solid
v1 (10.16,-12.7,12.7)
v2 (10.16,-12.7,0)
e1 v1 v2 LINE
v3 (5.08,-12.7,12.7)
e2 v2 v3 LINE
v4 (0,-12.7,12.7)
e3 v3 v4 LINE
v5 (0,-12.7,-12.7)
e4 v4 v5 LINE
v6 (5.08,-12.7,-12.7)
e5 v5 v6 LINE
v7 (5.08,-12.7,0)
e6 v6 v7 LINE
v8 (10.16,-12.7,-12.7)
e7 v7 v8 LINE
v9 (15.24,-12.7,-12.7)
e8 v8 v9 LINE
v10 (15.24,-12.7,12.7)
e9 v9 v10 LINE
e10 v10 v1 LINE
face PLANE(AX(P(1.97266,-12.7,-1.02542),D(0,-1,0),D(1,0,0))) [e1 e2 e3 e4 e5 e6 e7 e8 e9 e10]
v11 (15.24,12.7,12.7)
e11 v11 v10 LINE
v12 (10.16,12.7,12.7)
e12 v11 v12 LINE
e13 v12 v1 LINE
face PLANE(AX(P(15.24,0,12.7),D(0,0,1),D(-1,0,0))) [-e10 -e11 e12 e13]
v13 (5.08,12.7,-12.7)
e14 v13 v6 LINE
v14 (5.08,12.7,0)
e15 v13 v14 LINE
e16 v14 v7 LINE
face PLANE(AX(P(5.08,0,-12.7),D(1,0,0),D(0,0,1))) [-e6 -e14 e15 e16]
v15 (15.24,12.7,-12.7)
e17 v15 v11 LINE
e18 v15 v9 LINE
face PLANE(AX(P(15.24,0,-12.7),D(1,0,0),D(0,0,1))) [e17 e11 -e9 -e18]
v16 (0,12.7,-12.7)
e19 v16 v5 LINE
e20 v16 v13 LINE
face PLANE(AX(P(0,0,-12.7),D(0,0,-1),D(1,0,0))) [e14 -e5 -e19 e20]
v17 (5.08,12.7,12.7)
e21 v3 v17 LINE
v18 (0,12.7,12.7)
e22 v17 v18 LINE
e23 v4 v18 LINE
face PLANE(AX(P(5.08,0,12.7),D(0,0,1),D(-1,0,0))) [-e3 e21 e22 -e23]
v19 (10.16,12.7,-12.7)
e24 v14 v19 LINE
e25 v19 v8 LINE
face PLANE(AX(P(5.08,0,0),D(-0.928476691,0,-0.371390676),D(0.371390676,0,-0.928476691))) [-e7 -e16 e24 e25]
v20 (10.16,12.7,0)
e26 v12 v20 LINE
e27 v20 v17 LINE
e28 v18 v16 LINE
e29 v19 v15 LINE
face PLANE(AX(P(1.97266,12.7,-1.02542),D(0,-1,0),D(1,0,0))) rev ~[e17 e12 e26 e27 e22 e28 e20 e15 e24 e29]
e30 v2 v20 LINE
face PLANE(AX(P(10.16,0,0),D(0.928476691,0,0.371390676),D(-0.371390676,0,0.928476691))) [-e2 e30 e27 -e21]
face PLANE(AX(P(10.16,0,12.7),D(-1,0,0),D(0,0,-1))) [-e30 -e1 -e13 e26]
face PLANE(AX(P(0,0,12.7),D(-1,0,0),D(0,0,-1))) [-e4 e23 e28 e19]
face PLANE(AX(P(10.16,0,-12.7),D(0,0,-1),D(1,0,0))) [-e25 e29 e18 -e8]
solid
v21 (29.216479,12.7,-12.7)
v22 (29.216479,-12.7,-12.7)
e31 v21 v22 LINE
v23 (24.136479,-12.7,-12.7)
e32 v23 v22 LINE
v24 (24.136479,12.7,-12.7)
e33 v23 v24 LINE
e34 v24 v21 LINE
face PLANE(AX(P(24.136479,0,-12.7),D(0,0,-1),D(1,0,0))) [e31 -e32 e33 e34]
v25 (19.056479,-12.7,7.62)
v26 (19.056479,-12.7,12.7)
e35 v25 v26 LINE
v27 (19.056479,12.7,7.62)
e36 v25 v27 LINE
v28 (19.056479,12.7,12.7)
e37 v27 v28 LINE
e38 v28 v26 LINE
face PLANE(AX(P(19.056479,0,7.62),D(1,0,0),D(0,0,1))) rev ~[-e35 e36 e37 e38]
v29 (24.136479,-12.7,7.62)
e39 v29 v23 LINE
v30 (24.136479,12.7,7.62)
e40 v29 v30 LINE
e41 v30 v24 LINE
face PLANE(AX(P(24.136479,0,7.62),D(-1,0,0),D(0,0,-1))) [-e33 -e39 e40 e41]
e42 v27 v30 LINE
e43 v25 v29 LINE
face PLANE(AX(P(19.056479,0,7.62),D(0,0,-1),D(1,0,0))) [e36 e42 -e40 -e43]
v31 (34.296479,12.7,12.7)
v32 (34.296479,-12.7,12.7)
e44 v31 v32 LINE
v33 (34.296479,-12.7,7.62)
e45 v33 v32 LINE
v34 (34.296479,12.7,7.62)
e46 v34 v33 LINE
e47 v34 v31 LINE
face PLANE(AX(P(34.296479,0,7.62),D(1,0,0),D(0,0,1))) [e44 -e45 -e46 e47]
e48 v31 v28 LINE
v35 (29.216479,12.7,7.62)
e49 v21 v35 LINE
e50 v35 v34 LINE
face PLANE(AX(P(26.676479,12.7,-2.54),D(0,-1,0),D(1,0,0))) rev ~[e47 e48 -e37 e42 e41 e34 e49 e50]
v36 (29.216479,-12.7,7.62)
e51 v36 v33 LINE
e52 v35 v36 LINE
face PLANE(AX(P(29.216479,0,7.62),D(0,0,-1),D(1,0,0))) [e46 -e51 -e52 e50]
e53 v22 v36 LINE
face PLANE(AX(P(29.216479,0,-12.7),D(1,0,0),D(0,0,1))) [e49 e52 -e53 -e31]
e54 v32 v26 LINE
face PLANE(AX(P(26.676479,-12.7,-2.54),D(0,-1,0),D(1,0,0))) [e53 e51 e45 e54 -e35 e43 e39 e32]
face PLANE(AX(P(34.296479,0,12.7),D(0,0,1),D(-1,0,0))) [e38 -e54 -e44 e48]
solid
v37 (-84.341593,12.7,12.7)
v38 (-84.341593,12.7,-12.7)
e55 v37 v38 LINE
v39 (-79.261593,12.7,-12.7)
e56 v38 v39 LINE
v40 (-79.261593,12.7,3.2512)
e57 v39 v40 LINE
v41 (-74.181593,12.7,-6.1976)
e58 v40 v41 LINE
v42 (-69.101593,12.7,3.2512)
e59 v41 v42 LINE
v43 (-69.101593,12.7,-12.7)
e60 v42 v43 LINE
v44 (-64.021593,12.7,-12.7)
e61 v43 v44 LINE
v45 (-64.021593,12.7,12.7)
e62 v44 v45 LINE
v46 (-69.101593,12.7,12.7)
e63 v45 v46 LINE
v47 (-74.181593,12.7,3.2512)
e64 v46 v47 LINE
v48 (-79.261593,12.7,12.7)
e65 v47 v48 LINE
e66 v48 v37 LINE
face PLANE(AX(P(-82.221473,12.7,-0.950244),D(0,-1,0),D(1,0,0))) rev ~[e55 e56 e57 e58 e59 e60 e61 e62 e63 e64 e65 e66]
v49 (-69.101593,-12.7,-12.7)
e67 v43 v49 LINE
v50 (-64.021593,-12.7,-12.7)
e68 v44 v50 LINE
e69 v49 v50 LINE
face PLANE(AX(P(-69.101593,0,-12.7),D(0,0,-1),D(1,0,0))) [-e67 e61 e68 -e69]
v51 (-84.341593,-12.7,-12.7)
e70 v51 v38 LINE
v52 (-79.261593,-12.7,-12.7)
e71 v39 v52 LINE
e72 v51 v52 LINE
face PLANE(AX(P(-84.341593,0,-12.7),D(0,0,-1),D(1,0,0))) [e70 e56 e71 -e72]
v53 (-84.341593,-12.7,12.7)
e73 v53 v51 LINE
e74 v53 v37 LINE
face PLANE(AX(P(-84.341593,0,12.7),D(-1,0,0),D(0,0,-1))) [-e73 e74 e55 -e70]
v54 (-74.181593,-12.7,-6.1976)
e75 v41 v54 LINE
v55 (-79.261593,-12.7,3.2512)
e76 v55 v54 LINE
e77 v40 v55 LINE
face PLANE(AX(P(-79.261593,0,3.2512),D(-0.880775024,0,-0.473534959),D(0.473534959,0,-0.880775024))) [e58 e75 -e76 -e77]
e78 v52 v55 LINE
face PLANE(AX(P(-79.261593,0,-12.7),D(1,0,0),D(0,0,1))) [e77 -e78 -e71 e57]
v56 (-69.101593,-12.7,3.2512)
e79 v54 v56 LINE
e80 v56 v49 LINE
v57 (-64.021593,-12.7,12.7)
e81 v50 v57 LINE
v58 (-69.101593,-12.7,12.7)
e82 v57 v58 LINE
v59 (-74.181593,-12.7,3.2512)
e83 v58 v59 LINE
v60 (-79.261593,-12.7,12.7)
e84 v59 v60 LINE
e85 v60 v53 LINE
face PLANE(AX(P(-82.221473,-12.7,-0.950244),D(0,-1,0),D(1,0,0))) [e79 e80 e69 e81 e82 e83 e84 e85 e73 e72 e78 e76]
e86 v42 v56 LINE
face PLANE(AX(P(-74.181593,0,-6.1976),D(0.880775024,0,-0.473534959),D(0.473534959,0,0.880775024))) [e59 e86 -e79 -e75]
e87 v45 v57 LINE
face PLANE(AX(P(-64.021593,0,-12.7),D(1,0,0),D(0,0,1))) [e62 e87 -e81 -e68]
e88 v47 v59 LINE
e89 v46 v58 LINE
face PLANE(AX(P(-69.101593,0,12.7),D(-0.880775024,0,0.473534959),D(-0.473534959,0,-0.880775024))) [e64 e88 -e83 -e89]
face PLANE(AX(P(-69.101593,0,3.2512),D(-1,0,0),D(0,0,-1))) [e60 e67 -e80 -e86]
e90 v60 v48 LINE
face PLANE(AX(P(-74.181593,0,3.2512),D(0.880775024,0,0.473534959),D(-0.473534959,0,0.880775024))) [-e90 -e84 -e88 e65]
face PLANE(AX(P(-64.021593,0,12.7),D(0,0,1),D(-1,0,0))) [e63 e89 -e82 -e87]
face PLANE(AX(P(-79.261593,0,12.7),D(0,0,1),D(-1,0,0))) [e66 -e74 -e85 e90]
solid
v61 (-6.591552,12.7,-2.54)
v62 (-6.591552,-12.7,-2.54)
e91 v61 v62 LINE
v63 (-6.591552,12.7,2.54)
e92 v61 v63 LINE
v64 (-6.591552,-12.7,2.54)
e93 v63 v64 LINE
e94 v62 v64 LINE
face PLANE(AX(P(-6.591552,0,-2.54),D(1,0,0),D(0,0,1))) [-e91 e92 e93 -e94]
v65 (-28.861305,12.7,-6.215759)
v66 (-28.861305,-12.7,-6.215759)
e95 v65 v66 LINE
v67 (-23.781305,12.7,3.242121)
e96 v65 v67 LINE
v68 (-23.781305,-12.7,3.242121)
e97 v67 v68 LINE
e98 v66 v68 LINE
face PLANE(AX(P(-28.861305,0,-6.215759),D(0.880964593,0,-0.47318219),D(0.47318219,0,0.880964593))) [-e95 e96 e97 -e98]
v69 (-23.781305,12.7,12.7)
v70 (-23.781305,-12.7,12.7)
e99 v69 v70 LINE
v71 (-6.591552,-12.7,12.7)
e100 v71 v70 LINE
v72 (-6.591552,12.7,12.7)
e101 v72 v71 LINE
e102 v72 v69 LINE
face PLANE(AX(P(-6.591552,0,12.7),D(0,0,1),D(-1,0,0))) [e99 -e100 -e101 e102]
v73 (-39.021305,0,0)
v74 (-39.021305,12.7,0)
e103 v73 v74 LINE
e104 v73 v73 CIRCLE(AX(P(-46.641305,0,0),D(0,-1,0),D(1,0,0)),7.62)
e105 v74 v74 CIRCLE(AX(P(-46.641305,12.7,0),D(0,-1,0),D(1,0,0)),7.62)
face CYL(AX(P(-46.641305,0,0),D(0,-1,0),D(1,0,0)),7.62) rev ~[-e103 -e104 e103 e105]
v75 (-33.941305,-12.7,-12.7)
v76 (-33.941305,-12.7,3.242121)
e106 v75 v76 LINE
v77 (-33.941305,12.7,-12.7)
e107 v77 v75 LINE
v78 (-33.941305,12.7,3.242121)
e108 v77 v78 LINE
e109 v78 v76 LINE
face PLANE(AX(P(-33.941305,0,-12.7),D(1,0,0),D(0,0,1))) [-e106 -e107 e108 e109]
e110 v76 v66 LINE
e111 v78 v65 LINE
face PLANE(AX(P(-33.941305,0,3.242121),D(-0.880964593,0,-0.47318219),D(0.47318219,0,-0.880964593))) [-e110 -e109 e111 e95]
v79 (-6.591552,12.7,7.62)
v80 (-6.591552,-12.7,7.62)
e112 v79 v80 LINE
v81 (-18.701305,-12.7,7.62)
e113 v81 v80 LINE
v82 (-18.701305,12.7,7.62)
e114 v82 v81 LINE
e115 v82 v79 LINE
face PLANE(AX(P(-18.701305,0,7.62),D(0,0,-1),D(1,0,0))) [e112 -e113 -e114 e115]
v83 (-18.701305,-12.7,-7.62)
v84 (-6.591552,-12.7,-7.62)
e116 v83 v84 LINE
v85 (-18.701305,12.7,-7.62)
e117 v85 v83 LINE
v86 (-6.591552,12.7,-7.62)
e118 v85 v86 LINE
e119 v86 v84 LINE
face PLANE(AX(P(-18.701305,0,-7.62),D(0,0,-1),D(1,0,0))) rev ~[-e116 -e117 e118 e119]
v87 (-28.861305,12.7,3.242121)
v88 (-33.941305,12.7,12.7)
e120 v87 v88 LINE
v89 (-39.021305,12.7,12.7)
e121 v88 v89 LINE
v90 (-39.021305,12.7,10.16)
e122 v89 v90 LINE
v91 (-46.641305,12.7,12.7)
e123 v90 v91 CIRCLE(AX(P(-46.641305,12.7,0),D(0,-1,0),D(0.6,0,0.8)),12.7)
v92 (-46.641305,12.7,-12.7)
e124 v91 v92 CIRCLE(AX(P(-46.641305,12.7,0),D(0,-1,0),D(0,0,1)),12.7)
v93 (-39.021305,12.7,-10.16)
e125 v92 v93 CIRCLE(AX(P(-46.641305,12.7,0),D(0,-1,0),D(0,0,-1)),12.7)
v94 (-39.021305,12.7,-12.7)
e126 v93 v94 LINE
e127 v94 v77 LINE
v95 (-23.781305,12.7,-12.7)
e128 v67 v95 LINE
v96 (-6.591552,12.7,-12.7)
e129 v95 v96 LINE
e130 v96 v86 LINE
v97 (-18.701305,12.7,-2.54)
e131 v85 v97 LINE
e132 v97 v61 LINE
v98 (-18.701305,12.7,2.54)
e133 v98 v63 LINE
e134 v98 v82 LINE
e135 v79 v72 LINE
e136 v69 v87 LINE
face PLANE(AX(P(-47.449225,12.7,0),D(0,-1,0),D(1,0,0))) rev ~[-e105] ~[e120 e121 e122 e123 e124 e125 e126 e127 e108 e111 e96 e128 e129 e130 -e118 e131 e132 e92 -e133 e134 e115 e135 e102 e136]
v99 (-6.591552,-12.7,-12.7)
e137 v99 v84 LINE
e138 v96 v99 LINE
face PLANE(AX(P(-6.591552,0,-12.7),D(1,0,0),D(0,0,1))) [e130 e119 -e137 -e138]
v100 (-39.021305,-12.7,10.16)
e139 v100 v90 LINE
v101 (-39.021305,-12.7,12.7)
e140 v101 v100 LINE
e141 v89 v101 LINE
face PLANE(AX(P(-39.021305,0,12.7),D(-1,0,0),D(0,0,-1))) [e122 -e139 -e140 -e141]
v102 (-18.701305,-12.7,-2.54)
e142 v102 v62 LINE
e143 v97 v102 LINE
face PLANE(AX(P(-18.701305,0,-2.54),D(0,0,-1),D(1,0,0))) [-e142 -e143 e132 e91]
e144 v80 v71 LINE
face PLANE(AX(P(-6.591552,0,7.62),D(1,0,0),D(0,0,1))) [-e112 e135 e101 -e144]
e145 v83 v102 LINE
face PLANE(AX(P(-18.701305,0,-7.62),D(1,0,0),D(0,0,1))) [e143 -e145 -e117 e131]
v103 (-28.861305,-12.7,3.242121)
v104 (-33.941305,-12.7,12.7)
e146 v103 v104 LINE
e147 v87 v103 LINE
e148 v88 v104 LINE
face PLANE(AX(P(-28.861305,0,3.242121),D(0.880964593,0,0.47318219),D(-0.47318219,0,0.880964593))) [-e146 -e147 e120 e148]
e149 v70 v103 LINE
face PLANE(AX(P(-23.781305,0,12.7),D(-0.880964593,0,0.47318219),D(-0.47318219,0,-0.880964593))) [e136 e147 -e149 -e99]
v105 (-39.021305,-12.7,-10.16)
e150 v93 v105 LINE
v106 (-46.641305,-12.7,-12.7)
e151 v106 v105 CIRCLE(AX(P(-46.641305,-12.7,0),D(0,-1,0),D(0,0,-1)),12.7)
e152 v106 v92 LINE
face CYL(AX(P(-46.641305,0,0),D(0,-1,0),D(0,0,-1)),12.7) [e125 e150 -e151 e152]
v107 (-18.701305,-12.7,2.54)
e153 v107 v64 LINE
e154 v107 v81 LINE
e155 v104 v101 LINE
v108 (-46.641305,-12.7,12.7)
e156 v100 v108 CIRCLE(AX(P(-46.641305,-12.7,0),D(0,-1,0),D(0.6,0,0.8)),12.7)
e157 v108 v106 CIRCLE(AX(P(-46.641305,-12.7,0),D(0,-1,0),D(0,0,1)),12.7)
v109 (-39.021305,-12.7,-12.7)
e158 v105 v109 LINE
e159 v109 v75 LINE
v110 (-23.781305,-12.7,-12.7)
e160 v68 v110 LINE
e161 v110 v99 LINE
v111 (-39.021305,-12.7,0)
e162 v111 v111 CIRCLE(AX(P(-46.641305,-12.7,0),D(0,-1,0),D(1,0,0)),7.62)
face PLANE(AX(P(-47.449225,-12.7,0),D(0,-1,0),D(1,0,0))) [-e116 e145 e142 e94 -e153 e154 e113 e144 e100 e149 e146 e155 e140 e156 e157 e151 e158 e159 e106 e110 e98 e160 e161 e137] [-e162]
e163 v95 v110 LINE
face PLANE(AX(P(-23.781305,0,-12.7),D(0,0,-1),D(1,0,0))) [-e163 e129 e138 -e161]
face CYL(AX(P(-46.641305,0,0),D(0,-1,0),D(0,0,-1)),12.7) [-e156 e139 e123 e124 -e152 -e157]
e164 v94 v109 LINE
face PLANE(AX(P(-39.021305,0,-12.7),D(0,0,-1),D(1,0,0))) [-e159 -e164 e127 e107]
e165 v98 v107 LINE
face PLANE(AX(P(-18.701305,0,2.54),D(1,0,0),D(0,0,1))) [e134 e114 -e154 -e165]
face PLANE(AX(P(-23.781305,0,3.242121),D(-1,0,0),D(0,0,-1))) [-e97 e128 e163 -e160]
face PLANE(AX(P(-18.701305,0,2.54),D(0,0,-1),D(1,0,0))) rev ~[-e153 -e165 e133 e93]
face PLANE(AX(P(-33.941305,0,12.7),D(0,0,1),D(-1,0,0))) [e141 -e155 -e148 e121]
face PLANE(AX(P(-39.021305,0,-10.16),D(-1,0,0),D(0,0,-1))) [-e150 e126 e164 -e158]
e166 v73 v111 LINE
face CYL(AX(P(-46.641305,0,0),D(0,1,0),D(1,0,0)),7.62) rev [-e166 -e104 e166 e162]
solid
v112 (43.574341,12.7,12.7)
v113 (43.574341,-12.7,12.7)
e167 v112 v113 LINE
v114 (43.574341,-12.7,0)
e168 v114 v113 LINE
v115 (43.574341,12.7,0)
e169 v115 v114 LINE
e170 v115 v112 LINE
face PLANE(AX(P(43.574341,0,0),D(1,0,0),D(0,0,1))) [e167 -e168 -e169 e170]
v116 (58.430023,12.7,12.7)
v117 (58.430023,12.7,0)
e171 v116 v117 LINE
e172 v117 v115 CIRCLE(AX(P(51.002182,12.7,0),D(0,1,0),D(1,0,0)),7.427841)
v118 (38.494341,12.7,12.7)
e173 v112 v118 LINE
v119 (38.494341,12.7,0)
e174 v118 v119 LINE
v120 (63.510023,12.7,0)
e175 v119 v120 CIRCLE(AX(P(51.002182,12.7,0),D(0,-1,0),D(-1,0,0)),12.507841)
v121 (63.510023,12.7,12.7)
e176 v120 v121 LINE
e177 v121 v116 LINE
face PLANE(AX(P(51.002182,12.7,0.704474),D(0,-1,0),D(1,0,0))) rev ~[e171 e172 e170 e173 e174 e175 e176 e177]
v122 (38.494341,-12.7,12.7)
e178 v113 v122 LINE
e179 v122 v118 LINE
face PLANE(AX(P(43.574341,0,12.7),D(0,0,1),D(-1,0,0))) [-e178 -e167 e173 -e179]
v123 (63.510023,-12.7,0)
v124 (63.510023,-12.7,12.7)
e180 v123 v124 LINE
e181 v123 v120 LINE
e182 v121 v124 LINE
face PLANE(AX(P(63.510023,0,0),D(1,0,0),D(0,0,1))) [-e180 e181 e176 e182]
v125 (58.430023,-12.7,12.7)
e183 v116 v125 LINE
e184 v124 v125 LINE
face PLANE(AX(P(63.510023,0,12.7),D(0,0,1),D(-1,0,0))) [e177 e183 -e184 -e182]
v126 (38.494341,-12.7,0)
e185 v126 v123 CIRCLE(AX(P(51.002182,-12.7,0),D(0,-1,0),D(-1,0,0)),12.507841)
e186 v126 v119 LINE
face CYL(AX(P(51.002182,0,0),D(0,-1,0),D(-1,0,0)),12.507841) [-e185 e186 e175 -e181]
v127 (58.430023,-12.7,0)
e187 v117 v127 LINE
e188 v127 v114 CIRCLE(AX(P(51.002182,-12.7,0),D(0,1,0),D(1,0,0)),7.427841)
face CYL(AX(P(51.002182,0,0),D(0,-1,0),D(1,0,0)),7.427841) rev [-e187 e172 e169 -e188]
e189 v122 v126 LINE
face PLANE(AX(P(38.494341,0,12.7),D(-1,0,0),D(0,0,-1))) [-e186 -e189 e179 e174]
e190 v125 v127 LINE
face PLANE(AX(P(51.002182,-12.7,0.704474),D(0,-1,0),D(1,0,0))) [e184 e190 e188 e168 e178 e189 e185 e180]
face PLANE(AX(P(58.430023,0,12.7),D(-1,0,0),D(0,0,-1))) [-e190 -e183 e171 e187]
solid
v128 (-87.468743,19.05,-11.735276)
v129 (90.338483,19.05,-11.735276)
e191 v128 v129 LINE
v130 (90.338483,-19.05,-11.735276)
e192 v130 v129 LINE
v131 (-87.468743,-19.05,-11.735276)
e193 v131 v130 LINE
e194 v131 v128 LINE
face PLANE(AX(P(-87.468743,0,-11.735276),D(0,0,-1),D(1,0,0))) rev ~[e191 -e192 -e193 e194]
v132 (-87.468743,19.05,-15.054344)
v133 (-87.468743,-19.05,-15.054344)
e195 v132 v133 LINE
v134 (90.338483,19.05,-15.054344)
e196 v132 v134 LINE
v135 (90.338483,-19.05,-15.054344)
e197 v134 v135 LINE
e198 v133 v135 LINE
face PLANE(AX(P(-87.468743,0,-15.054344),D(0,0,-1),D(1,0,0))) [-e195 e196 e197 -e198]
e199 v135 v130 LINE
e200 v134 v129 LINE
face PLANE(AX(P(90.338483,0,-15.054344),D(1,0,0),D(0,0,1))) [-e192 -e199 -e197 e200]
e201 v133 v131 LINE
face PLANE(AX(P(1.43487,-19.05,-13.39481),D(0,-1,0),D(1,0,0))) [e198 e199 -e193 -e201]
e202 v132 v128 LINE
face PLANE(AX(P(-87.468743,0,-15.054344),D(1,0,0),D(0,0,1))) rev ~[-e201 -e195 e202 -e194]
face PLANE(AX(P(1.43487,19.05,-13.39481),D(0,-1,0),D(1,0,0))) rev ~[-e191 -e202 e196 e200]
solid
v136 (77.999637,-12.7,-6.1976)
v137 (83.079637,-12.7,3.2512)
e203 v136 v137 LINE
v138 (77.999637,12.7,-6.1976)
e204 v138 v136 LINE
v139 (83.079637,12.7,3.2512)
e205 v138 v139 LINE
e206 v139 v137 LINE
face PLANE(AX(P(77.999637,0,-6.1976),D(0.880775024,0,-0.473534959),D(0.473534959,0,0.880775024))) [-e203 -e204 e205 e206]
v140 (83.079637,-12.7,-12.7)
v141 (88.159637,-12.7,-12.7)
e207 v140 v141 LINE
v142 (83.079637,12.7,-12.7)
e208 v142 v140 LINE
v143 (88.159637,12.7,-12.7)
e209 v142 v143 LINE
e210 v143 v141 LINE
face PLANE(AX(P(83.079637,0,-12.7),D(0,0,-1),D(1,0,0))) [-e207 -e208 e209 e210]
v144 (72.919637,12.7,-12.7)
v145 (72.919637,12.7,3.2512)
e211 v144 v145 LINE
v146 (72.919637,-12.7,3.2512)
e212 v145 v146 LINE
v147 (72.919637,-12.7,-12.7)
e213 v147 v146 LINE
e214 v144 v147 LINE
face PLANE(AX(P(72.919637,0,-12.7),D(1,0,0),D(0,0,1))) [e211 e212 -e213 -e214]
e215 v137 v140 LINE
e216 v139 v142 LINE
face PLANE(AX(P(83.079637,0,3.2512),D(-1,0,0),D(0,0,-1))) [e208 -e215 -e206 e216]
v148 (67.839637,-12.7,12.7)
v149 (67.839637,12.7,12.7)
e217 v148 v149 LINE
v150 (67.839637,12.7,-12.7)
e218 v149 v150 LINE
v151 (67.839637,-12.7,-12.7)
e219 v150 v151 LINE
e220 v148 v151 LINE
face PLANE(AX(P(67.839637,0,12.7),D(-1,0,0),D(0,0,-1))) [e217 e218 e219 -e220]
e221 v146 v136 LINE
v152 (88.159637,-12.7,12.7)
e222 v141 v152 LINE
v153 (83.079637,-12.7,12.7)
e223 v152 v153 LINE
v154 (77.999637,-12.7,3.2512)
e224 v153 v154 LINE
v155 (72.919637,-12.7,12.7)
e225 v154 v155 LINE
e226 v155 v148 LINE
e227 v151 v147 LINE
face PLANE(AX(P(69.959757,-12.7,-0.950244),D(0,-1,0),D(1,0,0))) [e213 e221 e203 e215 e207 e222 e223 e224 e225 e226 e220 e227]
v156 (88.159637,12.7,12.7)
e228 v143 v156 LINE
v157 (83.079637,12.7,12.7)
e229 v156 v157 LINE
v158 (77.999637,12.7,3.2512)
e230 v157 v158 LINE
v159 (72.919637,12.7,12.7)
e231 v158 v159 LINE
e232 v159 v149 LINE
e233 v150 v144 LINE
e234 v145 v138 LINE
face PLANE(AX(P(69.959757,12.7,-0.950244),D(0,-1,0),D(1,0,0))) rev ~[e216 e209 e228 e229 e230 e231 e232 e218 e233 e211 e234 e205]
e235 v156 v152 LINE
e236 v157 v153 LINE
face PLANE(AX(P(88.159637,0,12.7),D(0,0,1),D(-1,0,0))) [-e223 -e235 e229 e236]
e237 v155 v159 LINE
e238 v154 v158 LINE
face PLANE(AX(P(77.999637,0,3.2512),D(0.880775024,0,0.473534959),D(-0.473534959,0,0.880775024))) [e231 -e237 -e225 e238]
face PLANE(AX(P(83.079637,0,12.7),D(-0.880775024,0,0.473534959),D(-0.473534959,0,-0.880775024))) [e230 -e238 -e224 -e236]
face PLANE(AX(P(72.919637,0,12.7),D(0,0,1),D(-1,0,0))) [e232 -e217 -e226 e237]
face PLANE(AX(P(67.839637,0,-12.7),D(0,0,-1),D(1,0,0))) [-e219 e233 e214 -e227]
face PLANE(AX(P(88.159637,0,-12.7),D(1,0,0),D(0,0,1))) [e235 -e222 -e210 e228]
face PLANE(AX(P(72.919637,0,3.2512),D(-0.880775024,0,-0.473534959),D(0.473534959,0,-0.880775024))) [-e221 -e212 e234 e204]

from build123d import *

# Parameters (mm, degrees)
F1_DEPTH = 6.35
F0_R     = 3.81
F0_W     = 6.0548761711
F0_H     = 2.54
F0_W_2   = 2.54
F0_H_2   = 10.16
F2_W     = 88.9036133885
F2_H     = 1.6595339403
F3_DEPTH = 9.525
F4_SCALE = 2


with BuildPart() as f1:
    # F0 (on Front) → F1 (new body, symmetric)
    with BuildSketch(Plane.XZ):
        Polygon((-42.1707964678, -6.35), (-39.6307964678, -6.35), (-39.6307964678, 1.6256), (-42.1707964678, 6.35), align=None)
        Polygon((-42.1707964678, 6.35), (-39.6307964678, 1.6256), (-39.6307964678, 6.35), align=None)
        Polygon((-39.6307964678, 6.35), (-39.6307964678, 1.6256), (-37.0907964678, -3.0988), (-37.0907964678, 1.6256), align=None)
        Polygon((-37.0907964678, 1.6256), (-37.0907964678, -3.0988), (-34.5507964678, 1.6256), (-34.5507964678, 6.35), align=None)
        Polygon((-34.5507964678, 6.35), (-34.5507964678, 1.6256), (-32.0107964678, 6.35), align=None)
        Polygon((-34.5507964678, 1.6256), (-34.5507964678, -6.35), (-32.0107964678, -6.35), (-32.0107964678, 6.35), align=None)
    extrude(amount=F1_DEPTH, both=True)


with BuildPart() as f1b:
    # F0 (on Front) → F1, piece 2 (new body, symmetric)
    with BuildSketch(Plane.XZ):
        with BuildLine():
            ThreePointArc((-23.3206523725, 6.35), (-29.6706523725, 0), (-23.3206523725, -6.35))
            ThreePointArc((-23.3206523725, -6.35), (-21.3126060583, -6.0241389426), (-19.5106523725, -5.08))
            Line((-19.5106523725, -5.08), (-19.5106523725, 0))
            Line((-19.5106523725, 0), (-19.5106523725, 5.08))
            ThreePointArc((-19.5106523725, 5.08), (-21.3126060583, 6.0241389426), (-23.3206523725, 6.35))
        make_face()
        with Locations((-23.3206523725, 0)):
            Circle(F0_R, mode=Mode.SUBTRACT)
        with BuildLine():
            ThreePointArc((-16.9706523725, 0), (-17.6410397097, 2.8398063314), (-19.5106523725, 5.08))
            Line((-19.5106523725, 5.08), (-19.5106523725, 0))
            Line((-19.5106523725, 0), (-16.9706523725, 0))
        make_face()
        with BuildLine():
            Line((-19.5106523725, 0), (-19.5106523725, -5.08))
            ThreePointArc((-19.5106523725, -5.08), (-17.6410397097, -2.8398063314), (-16.9706523725, 0))
            Line((-16.9706523725, 0), (-19.5106523725, 0))
        make_face()
        with BuildLine():
            Line((-19.5106523725, -5.08), (-19.5106523725, -6.35))
            Line((-19.5106523725, -6.35), (-16.9706523725, -6.35))
            Line((-16.9706523725, -6.35), (-16.9706523725, 0))
            ThreePointArc((-16.9706523725, 0), (-17.6410397097, -2.8398063314), (-19.5106523725, -5.08))
        make_face()
        Polygon((-16.9706523725, 6.35), (-19.5106523725, 6.35), (-16.9706523725, 1.621060252), align=None)
        with BuildLine():
            Line((-16.9706523725, 1.621060252), (-19.5106523725, 6.35))
            Line((-19.5106523725, 6.35), (-19.5106523725, 5.08))
            ThreePointArc((-19.5106523725, 5.08), (-17.6410397097, 2.8398063314), (-16.9706523725, 0))
            Line((-16.9706523725, 0), (-16.9706523725, 1.621060252))
        make_face()
        Polygon((-14.4306523725, 1.621060252), (-16.9706523725, 6.35), (-16.9706523725, 1.621060252), (-14.4306523725, -3.1078794961), align=None)
        Polygon((-11.8906523725, 6.35), (-14.4306523725, 1.621060252), (-14.4306523725, -3.1078794961), (-11.8906523725, 1.621060252), (-11.8906523725, 3.81), align=None)
        Polygon((-9.3506523725, 6.35), (-11.8906523725, 6.35), (-11.8906523725, 3.81), (-10.7149328125, 3.81), align=None)
        Polygon((-11.8906523725, 3.81), (-11.8906523725, 1.621060252), (-10.7149328125, 3.81), align=None)
        with Locations((-6.323214287, 5.08)):
            Rectangle(F0_W, F0_H)
        Polygon((-10.7149328125, 3.81), (-11.8906523725, 1.621060252), (-11.8906523725, 1.27), (-9.3506523725, 1.27), (-9.3506523725, 3.81), align=None)
        Polygon((-9.3506523725, 3.81), (-9.3506523725, 6.35), (-10.7149328125, 3.81), align=None)
        with Locations((-10.6206523725, 0)):
            Rectangle(F0_W_2, F0_H)
        with Locations((-6.323214287, 0)):
            Rectangle(F0_W, F0_H)
        with Locations((-10.6206523725, -2.54)):
            Rectangle(F0_W_2, F0_H)
        with Locations((-10.6206523725, -5.08)):
            Rectangle(F0_W_2, F0_H)
        with Locations((-6.323214287, -5.08)):
            Rectangle(F0_W, F0_H)
    extrude(amount=F1_DEPTH, both=True)


with BuildPart() as f1c:
    # F0 (on Front) → F1, piece 3 (new body, symmetric)
    with BuildSketch(Plane.XZ):
        Polygon((0, 6.35), (0, -6.35), (2.54, -6.35), (2.54, 0), align=None)
        Polygon((2.54, 6.35), (0, 6.35), (2.54, 0), align=None)
        Polygon((5.08, 0), (2.54, 6.35), (2.54, 0), (5.08, -6.35), align=None)
        Polygon((5.08, 0), (5.08, -6.35), (7.62, -6.35), align=None)
        Polygon((5.08, 6.35), (5.08, 0), (7.62, -6.35), (7.62, 6.35), align=None)
    extrude(amount=F1_DEPTH, both=True)


with BuildPart() as f1d:
    # F0 (on Front) → F1, piece 4 (new body, symmetric)
    with BuildSketch(Plane.XZ):
        with Locations((13.3382392576, -1.27)):
            Rectangle(F0_W_2, F0_H_2)
        with Locations((15.8782392576, 5.08)):
            Rectangle(F0_W_2, F0_H)
        with Locations((13.3382392576, 5.08)):
            Rectangle(F0_W_2, F0_H)
        with Locations((10.7982392576, 5.08)):
            Rectangle(F0_W_2, F0_H)
    extrude(amount=F1_DEPTH, both=True)


with BuildPart() as f1e:
    # F0 (on Front) → F1, piece 5 (new body, symmetric)
    with BuildSketch(Plane.XZ):
        with BuildLine():
            Line((31.7550115287, 0), (31.7550115287, 6.35))
            Line((31.7550115287, 6.35), (29.2150115287, 6.35))
            Line((29.2150115287, 6.35), (29.2150115287, 0))
            ThreePointArc((29.2150115287, 0), (25.5010910332, -3.7139204955), (21.7871705377, 0))
            Line((21.7871705377, 0), (21.7871705377, 6.35))
            Line((21.7871705377, 6.35), (19.2471705377, 6.35))
            Line((19.2471705377, 6.35), (19.2471705377, 0))
            ThreePointArc((19.2471705377, 0), (25.5010910332, -6.2539204955), (31.7550115287, 0))
        make_face()
    extrude(amount=F1_DEPTH, both=True)


with BuildPart() as f1f:
    # F0 (on Front) → F1, piece 6 (new body, symmetric)
    with BuildSketch(Plane.XZ):
        Polygon((33.9198186994, 6.35), (33.9198186994, -6.35), (36.4598186994, -6.35), (36.4598186994, 1.6256), align=None)
        Polygon((36.4598186994, 6.35), (33.9198186994, 6.35), (36.4598186994, 1.6256), align=None)
        Polygon((36.4598186994, 6.35), (36.4598186994, 1.6256), (38.9998186994, -3.0988), (38.9998186994, 1.6256), align=None)
        Polygon((38.9998186994, 1.6256), (38.9998186994, -3.0988), (41.5398186994, 1.6256), (41.5398186994, 6.35), align=None)
        Polygon((41.5398186994, 6.35), (41.5398186994, 1.6256), (44.0798186994, 6.35), align=None)
        Polygon((41.5398186994, 1.6256), (41.5398186994, -6.35), (44.0798186994, -6.35), (44.0798186994, 6.35), align=None)
    extrude(amount=F1_DEPTH, both=True)


with BuildPart() as f3:
    # F2 (on Front) → F3 (new body, symmetric)
    with BuildSketch(Plane.XZ):
        with Locations((0.7174350321, -6.6974051297)):
            Rectangle(F2_W, F2_H)
    extrude(amount=F3_DEPTH, both=True)


with BuildPart() as f1d_1:
    # F4: moved
    add(f1d.part.scale(F4_SCALE))


with BuildPart() as f1_1:
    # F4: moved
    add(f1.part.scale(F4_SCALE))


with BuildPart() as f1b_1:
    # F4: moved
    add(f1b.part.scale(F4_SCALE))


with BuildPart() as f1c_1:
    # F4: moved
    add(f1c.part.scale(F4_SCALE))


with BuildPart() as f1e_1:
    # F4: moved
    add(f1e.part.scale(F4_SCALE))


with BuildPart() as f1f_1:
    # F4: moved
    add(f1f.part.scale(F4_SCALE))


with BuildPart() as f3_1:
    # F4: moved
    add(f3.part.scale(F4_SCALE))


solid = Compound([f1d_1.part, f1_1.part, f1b_1.part, f1c_1.part, f1e_1.part, f1f_1.part, f3_1.part])
